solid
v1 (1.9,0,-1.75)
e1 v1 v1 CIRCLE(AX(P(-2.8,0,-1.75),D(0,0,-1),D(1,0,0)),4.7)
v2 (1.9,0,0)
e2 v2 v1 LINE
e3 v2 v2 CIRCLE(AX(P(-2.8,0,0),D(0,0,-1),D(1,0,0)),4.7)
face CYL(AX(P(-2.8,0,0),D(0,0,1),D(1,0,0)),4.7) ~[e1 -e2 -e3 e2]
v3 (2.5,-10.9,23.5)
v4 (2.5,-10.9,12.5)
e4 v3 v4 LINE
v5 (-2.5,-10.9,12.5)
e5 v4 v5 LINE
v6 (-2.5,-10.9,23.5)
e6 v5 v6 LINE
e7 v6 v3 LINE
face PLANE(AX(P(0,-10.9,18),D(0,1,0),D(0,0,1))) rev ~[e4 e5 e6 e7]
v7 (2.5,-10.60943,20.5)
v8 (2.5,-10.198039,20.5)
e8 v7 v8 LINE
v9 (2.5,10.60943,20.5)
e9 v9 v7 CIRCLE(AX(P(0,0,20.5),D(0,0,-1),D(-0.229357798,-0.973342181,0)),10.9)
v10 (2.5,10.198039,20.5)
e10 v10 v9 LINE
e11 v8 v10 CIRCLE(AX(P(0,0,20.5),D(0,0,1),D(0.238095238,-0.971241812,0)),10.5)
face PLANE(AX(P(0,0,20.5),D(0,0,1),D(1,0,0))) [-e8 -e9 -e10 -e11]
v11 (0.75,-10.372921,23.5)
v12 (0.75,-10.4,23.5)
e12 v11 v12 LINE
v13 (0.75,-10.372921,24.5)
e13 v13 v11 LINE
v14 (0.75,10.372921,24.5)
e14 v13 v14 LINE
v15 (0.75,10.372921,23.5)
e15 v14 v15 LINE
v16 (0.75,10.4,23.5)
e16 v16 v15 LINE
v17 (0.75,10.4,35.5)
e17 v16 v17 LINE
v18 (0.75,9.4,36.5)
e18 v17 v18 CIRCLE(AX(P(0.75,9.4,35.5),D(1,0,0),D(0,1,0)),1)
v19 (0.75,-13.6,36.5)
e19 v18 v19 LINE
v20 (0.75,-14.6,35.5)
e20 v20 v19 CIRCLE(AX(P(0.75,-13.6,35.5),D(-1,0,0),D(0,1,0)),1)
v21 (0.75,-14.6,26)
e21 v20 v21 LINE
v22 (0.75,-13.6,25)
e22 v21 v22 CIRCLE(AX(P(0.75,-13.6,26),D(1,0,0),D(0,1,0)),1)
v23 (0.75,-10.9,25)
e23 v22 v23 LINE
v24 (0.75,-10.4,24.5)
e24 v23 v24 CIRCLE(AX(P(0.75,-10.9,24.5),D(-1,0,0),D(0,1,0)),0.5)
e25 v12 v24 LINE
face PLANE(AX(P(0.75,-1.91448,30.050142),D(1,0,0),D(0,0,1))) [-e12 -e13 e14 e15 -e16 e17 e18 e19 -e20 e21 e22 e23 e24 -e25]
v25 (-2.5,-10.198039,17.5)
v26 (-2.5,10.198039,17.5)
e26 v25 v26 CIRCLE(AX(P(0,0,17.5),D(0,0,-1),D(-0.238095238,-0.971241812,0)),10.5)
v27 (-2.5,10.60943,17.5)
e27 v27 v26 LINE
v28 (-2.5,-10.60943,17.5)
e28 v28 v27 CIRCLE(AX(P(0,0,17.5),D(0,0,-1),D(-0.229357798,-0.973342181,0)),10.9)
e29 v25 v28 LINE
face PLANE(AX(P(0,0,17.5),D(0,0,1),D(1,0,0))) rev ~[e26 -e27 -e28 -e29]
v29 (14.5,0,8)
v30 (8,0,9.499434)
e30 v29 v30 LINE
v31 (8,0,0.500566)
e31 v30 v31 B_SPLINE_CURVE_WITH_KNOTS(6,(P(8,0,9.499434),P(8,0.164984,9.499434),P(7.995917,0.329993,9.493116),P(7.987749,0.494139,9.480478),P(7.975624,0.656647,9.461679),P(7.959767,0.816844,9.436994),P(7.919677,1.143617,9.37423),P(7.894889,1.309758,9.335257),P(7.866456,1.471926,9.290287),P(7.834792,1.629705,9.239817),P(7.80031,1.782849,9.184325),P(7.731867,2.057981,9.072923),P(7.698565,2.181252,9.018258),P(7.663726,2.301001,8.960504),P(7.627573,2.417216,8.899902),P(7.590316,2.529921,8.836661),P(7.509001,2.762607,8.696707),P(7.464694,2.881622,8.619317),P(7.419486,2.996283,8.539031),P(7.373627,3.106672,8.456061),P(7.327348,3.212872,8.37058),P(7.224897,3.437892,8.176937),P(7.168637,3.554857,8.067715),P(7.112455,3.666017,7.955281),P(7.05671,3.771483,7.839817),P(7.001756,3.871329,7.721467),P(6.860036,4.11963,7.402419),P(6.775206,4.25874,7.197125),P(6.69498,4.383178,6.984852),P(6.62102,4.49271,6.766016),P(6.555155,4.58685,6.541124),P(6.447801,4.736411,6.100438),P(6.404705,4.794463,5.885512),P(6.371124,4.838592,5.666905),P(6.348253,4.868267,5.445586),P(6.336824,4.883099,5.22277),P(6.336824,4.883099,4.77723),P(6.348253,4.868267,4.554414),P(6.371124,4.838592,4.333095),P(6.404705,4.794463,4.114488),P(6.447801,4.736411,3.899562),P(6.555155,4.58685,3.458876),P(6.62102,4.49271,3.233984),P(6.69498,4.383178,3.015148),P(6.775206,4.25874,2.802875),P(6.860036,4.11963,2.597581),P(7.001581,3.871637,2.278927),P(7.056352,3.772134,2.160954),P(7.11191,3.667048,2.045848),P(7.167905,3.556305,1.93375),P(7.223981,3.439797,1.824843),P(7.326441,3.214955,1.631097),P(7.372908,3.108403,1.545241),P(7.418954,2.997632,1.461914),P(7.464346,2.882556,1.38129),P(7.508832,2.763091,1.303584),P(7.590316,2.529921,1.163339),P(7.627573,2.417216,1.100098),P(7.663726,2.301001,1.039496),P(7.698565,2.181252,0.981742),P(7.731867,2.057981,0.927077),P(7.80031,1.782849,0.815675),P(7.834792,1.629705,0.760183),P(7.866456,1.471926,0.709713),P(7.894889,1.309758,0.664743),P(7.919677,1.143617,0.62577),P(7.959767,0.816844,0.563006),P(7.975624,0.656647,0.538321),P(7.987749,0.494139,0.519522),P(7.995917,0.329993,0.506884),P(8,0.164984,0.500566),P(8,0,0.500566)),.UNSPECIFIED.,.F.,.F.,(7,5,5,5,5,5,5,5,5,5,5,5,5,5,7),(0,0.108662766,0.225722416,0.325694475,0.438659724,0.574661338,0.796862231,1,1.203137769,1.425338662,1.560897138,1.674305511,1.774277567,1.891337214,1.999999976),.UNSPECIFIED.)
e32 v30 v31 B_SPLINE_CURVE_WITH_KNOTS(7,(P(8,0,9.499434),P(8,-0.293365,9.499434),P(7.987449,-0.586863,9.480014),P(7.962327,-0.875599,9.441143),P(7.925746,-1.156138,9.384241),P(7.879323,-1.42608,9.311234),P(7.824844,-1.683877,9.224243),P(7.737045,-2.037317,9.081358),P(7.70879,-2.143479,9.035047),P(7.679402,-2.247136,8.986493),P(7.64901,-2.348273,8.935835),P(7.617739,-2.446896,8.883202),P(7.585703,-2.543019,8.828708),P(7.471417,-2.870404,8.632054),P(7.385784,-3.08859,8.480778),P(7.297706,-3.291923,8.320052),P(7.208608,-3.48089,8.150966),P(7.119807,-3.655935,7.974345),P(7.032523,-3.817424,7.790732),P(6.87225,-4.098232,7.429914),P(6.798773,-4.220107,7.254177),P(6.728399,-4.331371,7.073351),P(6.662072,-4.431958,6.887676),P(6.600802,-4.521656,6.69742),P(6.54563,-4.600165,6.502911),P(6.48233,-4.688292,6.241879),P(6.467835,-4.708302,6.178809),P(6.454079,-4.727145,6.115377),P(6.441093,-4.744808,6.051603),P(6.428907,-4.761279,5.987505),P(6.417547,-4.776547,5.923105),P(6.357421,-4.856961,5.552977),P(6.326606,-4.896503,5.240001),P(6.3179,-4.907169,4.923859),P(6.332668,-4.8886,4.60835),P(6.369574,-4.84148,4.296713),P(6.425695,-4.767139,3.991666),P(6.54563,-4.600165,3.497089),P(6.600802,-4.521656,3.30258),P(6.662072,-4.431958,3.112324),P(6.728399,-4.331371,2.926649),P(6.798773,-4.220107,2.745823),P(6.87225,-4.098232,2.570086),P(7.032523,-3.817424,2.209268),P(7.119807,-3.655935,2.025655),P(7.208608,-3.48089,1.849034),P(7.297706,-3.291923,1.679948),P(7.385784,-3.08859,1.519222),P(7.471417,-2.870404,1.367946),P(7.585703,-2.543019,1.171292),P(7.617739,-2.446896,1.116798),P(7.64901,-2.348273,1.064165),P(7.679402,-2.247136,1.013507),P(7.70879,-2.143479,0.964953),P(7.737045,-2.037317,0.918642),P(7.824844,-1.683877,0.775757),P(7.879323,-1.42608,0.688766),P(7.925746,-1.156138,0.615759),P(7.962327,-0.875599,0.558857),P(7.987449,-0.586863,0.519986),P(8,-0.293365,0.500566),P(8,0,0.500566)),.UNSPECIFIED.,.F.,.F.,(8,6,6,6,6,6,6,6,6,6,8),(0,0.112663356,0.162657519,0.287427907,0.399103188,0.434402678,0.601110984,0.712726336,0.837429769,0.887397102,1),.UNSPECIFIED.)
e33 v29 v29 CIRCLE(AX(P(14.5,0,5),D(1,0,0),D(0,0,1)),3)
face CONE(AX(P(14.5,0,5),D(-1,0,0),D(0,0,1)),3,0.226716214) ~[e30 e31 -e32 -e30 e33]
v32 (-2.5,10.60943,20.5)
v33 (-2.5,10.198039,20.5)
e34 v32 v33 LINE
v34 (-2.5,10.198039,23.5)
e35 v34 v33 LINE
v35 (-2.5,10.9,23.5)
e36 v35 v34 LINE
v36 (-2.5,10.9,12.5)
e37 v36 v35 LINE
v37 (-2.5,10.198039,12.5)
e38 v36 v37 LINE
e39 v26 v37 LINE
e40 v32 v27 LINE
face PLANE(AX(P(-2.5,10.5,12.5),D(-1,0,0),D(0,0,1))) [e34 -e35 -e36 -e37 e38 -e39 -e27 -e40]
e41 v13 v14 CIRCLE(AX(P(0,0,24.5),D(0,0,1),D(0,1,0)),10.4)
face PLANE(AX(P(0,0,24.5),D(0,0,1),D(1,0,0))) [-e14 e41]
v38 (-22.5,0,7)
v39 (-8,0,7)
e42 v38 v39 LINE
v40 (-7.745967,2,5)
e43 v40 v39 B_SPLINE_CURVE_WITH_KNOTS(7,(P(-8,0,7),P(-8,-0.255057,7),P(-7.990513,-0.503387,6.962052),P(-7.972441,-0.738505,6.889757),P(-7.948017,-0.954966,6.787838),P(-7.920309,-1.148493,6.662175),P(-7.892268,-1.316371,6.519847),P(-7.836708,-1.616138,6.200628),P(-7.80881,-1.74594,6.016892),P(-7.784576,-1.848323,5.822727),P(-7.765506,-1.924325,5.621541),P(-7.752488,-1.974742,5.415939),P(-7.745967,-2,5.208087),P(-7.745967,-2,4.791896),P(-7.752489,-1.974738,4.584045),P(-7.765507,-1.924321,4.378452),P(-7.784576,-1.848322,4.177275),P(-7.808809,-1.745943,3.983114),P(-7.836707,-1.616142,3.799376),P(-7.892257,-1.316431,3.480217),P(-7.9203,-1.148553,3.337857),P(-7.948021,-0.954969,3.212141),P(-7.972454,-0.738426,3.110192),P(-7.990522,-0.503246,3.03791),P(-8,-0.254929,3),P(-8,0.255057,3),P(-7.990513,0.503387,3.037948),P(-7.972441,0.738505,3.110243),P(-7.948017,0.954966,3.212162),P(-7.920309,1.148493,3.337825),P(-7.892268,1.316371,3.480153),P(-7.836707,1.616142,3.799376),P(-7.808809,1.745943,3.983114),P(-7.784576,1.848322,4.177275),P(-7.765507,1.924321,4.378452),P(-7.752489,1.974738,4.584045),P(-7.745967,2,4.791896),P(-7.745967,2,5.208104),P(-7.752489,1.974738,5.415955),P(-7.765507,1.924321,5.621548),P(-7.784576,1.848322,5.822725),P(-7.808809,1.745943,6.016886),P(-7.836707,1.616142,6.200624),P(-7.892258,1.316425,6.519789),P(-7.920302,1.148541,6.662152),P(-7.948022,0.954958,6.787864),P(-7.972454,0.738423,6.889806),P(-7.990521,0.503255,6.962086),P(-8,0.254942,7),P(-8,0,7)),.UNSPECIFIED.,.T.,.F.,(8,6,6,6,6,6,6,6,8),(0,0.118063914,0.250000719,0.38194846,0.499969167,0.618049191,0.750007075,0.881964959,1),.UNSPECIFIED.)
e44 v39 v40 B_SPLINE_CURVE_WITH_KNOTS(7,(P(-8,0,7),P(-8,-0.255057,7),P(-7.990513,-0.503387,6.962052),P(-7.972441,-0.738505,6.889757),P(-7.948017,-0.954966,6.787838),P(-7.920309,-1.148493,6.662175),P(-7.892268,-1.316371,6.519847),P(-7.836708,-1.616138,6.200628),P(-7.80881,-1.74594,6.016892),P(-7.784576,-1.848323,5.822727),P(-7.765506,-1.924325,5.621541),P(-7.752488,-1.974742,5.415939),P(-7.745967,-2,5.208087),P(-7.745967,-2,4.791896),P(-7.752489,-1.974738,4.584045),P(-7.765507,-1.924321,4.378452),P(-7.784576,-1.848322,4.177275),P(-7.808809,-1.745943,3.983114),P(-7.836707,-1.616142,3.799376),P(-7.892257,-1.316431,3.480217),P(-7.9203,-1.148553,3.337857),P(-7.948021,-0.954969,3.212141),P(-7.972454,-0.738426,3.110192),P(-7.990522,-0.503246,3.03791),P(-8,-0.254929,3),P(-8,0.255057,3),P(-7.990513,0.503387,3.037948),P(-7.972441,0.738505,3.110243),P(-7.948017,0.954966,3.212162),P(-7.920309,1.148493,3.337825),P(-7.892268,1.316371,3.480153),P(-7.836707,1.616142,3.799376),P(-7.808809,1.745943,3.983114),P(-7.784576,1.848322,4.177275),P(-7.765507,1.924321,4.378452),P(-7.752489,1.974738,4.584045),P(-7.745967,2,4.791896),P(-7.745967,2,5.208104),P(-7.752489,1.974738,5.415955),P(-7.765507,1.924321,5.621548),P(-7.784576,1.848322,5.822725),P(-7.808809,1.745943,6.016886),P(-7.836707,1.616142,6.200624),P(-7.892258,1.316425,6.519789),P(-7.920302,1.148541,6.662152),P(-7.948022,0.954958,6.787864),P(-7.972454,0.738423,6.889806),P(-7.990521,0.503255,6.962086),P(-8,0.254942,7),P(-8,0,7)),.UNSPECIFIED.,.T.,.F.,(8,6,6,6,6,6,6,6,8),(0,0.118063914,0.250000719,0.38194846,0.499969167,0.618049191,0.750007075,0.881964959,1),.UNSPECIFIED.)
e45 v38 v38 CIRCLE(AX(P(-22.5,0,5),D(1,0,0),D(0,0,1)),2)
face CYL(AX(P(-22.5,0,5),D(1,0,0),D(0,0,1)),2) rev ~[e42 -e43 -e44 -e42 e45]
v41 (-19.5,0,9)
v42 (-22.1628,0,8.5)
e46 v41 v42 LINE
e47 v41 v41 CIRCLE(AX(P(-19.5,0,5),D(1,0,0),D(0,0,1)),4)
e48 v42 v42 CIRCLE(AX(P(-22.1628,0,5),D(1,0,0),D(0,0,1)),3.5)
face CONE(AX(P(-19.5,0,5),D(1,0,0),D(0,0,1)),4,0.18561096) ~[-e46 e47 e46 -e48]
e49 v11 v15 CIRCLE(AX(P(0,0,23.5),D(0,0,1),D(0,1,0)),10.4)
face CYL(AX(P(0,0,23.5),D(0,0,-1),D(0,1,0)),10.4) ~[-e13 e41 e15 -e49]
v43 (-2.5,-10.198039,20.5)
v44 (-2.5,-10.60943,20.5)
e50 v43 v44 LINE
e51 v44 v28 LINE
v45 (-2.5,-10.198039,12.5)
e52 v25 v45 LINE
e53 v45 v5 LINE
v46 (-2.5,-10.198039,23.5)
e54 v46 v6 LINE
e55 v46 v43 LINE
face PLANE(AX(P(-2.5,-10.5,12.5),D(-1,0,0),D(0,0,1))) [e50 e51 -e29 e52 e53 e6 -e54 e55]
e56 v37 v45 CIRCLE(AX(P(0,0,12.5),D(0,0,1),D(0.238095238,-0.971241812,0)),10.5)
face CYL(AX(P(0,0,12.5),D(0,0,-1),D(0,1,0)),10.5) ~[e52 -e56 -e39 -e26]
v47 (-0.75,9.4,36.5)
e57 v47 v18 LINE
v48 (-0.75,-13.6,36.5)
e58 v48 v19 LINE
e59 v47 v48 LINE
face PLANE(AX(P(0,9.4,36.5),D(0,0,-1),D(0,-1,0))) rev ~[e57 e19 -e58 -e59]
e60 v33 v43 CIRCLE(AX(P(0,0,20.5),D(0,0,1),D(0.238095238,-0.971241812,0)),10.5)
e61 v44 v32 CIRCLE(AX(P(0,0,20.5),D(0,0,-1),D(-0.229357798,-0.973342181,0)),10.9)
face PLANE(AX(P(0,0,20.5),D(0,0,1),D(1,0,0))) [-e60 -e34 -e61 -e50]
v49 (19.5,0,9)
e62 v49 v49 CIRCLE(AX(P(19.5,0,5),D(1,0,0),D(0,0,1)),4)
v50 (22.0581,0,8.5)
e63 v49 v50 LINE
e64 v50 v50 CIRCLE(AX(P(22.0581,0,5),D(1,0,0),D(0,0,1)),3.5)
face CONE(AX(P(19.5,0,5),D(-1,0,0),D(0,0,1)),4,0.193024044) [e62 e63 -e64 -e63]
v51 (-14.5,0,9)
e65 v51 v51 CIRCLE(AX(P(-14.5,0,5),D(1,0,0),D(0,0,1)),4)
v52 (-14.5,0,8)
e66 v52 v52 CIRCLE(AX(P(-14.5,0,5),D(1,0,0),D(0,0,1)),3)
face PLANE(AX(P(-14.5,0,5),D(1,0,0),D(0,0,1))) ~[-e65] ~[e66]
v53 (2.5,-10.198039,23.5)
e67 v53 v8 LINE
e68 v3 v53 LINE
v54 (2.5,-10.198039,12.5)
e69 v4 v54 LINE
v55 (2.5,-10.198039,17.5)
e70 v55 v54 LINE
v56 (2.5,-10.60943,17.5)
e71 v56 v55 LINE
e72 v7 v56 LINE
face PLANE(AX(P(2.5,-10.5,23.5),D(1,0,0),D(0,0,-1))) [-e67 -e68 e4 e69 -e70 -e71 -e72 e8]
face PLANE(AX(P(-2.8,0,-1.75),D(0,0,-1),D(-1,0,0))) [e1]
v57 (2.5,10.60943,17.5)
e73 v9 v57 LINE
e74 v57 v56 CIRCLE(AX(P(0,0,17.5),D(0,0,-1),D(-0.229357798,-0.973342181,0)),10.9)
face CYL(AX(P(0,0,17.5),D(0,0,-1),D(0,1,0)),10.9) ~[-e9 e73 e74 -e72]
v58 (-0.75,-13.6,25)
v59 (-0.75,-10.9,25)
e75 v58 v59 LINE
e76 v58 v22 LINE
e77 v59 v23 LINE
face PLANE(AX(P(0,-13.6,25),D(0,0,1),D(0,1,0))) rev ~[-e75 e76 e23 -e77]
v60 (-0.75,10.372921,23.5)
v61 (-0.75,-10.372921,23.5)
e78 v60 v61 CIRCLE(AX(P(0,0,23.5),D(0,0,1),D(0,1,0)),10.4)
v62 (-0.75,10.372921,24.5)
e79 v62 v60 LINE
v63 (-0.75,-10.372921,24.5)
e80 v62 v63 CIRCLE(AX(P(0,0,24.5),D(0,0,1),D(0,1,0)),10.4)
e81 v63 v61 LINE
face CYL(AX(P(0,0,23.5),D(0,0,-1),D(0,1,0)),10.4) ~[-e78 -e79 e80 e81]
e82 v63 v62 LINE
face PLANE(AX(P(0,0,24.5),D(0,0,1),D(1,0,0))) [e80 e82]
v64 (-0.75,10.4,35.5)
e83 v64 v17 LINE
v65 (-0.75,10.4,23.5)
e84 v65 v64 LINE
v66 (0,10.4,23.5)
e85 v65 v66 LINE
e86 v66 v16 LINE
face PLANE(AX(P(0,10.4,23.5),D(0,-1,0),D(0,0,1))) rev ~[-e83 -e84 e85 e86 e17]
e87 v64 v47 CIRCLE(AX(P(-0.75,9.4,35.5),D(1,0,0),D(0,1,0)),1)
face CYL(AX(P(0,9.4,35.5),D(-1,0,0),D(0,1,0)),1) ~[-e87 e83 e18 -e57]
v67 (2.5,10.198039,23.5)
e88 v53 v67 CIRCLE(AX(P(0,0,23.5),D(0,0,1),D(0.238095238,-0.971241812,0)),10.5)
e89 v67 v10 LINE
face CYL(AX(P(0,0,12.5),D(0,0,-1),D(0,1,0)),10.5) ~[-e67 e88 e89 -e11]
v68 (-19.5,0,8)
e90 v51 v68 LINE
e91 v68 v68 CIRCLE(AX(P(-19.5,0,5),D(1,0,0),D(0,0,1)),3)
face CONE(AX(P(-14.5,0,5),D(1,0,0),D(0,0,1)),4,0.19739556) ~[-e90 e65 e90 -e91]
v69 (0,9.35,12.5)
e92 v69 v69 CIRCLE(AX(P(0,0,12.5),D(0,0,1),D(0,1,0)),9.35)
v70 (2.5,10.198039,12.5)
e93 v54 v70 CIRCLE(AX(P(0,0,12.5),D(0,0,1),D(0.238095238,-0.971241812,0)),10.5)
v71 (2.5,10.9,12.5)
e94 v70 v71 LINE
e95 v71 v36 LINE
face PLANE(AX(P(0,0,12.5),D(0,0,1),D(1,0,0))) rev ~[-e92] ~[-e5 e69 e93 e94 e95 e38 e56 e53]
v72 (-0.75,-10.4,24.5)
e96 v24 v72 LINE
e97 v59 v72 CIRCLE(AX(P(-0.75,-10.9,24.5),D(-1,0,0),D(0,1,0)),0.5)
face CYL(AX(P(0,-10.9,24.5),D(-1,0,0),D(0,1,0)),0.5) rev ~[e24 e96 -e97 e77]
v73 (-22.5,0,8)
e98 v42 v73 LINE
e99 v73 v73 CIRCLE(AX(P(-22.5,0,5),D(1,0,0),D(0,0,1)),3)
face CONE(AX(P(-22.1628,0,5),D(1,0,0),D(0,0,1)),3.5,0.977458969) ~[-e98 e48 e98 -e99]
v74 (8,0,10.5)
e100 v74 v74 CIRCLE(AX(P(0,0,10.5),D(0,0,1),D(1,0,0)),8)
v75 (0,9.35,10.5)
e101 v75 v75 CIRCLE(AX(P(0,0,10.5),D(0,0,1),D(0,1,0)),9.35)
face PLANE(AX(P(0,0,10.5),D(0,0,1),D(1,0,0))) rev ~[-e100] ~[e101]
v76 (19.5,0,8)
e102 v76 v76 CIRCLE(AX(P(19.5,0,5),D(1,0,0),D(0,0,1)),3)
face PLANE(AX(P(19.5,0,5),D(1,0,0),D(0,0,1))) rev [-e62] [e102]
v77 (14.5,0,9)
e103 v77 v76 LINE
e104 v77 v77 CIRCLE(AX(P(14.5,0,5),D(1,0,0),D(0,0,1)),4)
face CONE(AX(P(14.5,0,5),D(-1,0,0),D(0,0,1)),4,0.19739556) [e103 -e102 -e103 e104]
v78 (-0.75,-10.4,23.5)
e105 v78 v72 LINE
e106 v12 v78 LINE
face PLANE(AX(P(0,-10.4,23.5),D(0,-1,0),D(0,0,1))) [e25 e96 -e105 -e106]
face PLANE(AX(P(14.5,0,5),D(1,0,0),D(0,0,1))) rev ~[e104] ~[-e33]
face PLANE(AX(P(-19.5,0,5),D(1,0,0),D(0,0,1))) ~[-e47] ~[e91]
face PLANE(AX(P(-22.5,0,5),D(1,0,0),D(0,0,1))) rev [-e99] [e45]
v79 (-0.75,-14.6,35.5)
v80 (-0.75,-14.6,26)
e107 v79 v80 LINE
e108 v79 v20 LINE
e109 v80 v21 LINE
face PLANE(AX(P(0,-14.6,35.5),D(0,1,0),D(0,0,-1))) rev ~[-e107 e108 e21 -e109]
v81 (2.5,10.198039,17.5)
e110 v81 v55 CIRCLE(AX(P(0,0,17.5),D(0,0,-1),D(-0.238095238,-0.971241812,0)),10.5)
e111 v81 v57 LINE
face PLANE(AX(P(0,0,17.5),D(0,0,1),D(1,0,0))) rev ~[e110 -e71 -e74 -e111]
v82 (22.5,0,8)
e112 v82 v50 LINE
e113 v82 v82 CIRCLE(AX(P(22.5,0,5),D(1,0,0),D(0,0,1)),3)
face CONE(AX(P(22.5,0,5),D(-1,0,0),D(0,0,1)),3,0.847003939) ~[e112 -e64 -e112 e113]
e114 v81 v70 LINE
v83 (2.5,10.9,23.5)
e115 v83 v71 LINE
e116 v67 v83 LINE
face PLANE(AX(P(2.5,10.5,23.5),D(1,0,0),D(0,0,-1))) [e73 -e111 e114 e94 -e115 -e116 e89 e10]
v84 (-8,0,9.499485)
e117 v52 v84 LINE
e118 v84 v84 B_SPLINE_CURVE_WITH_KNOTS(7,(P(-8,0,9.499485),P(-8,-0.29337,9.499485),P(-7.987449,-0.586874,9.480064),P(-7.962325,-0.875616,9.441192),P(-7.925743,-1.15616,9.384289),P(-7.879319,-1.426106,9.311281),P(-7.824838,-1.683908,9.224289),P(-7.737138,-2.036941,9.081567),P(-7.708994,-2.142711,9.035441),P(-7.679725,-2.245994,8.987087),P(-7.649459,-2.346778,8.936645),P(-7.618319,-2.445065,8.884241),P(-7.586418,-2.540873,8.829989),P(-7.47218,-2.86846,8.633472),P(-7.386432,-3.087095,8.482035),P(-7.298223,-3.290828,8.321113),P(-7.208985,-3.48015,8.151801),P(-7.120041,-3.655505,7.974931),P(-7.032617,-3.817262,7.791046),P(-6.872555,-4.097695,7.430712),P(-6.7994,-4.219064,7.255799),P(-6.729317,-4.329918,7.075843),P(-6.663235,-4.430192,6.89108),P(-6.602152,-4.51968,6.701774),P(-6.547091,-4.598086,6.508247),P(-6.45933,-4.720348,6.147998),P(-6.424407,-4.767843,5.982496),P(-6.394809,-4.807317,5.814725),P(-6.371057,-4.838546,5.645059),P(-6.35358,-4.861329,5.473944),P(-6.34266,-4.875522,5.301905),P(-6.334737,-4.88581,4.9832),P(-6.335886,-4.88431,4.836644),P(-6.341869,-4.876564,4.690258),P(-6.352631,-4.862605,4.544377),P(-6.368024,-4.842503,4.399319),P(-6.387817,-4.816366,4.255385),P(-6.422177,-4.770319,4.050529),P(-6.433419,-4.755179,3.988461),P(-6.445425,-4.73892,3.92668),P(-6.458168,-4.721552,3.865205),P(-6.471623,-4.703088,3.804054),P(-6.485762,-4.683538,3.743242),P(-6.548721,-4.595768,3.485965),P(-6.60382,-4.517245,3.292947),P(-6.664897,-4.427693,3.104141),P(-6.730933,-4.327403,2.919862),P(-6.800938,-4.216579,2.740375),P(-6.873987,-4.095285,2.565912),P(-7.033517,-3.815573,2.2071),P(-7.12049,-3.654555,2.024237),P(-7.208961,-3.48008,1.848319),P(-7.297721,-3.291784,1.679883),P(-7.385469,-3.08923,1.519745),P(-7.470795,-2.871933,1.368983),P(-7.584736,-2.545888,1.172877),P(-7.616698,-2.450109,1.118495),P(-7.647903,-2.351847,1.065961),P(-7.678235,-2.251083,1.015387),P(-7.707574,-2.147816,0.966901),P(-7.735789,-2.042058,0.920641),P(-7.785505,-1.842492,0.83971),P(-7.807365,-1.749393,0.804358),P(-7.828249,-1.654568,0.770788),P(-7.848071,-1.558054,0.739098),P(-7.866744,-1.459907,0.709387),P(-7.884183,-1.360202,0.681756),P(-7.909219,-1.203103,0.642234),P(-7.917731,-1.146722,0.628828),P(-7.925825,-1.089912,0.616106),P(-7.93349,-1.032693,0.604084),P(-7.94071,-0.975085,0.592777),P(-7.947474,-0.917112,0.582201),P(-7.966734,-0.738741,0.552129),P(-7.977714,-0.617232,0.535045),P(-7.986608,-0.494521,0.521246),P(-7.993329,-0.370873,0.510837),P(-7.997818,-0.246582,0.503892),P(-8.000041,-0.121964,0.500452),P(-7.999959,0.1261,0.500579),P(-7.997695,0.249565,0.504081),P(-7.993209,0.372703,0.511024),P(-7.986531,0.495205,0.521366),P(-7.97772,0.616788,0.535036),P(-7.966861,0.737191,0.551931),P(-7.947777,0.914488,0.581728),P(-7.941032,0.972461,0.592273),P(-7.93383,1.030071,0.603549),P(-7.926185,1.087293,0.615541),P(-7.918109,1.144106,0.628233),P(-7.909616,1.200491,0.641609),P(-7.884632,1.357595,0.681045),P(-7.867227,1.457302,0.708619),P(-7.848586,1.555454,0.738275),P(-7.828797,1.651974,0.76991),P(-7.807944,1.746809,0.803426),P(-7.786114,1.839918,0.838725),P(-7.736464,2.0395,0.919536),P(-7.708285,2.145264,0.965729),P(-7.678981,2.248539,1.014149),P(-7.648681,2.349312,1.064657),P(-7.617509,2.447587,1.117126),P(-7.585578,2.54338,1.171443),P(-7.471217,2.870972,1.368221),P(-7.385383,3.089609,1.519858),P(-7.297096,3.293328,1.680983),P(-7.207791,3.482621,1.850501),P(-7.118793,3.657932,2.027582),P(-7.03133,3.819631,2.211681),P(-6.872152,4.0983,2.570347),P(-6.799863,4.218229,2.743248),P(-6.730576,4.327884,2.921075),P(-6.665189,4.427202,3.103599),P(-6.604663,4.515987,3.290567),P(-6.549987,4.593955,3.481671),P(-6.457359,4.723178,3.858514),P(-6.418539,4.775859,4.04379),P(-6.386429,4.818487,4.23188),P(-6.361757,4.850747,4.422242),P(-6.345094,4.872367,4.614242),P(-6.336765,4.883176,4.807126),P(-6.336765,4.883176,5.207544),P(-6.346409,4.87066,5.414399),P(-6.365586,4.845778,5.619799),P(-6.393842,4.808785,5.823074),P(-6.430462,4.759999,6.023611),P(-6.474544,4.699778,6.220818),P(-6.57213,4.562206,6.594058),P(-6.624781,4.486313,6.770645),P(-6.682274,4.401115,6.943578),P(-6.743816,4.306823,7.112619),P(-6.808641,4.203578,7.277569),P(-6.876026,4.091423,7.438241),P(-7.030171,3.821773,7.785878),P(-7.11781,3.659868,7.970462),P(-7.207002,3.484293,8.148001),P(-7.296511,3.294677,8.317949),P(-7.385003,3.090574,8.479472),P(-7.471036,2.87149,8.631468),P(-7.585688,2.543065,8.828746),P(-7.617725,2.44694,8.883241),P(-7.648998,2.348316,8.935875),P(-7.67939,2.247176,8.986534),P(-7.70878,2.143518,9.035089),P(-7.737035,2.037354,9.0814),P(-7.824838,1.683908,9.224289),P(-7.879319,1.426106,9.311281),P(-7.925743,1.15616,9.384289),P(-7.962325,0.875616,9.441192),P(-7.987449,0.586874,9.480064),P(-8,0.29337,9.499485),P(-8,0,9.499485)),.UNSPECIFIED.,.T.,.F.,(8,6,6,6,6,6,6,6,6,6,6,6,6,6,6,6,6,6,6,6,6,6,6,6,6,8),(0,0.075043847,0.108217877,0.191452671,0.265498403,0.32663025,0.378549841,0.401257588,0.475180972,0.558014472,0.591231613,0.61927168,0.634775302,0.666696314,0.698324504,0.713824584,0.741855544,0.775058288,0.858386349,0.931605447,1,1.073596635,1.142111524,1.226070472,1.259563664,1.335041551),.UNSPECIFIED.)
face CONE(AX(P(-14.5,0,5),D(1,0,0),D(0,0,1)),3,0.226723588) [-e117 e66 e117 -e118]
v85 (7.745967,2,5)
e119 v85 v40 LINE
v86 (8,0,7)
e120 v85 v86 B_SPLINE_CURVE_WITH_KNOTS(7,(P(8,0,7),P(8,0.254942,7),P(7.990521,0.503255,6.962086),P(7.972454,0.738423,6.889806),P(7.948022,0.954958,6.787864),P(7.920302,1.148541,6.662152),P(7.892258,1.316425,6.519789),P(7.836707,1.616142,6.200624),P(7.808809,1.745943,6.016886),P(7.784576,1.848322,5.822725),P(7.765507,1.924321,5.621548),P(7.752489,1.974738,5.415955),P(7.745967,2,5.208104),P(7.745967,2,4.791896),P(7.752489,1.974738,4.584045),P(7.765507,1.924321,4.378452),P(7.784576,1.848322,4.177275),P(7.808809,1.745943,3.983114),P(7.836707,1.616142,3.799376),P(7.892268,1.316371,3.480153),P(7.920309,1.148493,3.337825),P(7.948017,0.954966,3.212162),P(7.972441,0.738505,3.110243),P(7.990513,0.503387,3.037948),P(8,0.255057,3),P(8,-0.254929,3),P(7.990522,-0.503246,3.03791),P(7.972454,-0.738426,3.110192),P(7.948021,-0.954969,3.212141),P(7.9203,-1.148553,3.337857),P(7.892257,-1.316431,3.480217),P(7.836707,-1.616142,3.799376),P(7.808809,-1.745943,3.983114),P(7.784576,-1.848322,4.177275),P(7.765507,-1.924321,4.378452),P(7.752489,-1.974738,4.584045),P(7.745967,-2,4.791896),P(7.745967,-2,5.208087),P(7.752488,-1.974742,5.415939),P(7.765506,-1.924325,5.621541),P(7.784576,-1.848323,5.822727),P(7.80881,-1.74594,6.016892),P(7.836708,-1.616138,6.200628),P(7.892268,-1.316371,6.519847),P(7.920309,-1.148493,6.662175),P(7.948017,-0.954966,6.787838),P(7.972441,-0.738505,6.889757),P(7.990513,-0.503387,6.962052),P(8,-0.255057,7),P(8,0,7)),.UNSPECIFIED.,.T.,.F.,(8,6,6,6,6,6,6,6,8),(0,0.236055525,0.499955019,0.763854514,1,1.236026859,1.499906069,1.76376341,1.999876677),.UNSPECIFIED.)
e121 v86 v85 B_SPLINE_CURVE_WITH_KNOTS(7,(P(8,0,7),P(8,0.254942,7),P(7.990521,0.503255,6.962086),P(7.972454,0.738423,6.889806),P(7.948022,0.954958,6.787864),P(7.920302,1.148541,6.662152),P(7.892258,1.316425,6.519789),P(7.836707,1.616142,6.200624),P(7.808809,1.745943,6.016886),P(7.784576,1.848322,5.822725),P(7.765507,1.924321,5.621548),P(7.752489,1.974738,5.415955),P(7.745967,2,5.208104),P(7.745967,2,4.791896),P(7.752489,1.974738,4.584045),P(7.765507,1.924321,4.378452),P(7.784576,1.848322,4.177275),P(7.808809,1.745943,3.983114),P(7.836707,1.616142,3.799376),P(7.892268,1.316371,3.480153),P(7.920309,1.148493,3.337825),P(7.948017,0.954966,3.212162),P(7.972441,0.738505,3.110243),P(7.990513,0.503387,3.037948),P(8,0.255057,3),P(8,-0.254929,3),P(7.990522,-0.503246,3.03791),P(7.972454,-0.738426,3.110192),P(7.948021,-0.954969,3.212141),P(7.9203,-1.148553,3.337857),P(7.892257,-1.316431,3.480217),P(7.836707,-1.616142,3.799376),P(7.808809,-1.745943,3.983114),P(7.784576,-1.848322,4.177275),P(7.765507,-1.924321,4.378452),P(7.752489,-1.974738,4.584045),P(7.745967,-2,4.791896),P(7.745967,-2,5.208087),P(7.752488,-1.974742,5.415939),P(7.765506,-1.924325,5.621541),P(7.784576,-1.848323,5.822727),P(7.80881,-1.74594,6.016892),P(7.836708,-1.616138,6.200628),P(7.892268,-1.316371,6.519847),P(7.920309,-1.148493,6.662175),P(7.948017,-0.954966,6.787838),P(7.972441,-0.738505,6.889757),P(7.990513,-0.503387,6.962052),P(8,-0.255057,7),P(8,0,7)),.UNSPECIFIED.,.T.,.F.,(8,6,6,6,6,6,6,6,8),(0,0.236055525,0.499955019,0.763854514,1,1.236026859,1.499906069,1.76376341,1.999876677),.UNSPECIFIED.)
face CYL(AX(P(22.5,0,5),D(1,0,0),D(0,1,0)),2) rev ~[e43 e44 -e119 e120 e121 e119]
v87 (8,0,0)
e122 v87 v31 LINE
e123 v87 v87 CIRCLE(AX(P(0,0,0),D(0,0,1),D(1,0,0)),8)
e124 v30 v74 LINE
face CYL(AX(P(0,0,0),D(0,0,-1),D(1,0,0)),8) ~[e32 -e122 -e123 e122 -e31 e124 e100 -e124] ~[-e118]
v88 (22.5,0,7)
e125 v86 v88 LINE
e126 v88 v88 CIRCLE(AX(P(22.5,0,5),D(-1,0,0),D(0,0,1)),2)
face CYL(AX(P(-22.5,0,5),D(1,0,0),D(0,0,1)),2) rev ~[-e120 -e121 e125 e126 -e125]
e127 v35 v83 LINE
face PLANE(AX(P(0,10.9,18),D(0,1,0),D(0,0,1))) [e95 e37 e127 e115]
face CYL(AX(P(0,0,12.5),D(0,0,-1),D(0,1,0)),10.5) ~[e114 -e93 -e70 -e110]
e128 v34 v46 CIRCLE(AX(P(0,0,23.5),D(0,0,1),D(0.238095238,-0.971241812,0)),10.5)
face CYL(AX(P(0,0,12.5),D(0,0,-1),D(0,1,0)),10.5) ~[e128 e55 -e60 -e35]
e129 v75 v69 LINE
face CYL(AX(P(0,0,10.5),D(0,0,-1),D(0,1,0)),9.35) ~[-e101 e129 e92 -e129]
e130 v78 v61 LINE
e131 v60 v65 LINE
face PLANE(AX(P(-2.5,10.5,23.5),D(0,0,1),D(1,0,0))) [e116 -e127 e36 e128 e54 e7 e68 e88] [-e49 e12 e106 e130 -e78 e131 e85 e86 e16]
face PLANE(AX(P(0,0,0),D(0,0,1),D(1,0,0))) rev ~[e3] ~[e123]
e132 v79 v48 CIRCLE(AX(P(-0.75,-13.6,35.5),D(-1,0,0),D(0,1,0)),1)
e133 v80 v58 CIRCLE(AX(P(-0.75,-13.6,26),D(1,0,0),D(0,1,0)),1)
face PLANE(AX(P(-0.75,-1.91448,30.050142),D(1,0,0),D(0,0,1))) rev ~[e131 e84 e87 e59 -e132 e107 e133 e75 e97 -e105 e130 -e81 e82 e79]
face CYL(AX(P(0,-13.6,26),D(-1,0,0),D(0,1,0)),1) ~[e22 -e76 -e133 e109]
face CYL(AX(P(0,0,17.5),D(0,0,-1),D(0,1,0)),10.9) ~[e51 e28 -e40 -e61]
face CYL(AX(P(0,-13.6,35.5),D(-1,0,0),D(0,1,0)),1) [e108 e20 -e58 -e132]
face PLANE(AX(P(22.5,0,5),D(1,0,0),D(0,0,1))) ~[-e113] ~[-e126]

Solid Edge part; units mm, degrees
sketch "Sketch1" plane through (0, 0, 0) normal (0, 0, 1) x (1, 0, 0)
  circle A0 centre (0, 0) radius 8
extrude "Protrusion1" add sketch "Sketch1" along normal blind 10.5
sketch "Sketch2" plane through (0, 0, 10.5) normal (0, 0, 1) x (0, 1, 0)
  circle A0 centre (0, 0) radius 9.35
extrude "Extrusionsausprägung_2" add sketch "Sketch2" along normal blind 2
sketch "Sketch3" plane through (0, 0, 12.5) normal (0, 0, 1) x (0, 1, 0)
  circle A0 centre (0, 0) radius 10.5
extrude "Extrusionsausprägung_3" add sketch "Sketch3" along normal blind 11
sketch "Sketch4" plane through (0, 0, 17.5) normal (0, 0, 1) x (0, 1, 0)
  circle A0 centre (0, 0) radius 10.9
extrude "Extrusionsausprägung_4" add sketch "Sketch4" along normal blind 3
sketch "Sketch5" plane through (0, -10.5, 0) normal (0, -1, 0) x (1, 0, 0)
  line L0 (0, 23.5) -> (2.5, 23.5)
  line L1 (2.5, 23.5) -> (2.5, 12.5)
  line L2 (2.5, 12.5) -> (-2.5, 12.5)
  line L3 (-2.5, 12.5) -> (-2.5, 23.5)
  line L4 (-2.5, 23.5) -> (0, 23.5)
extrude "Extrusionsausprägung_5" add sketch "Sketch5" along normal mid plane 0.8
sketch "Sketch6" plane through (0, 10.5, 0) normal (0, -1, 0) x (1, 0, 0)
  line L0 (-2.5, 23.5) -> (2.5, 23.5)
  line L1 (2.5, 23.5) -> (2.5, 12.5)
  line L2 (2.5, 12.5) -> (-2.5, 12.5)
  line L3 (-2.5, 12.5) -> (-2.5, 23.5)
extrude "Extrusionsausprägung_6" add sketch "Sketch6" along normal mid plane 0.8
sketch "Sketch7" plane through (0, 0, 23.5) normal (0, 0, 1) x (0, 1, 0)
  circle A0 centre (0, 0) radius 10.4
extrude "Extrusionsausprägung_7" add sketch "Sketch7" along normal mid plane 2
sketch "Sketch8" plane through (0, 0, 0) normal (1, 0, 0) x (0, 1, 0)
  line L0 (0, 23.5) -> (10.4, 23.5)
  line L1 (10.4, 23.5) -> (10.4, 35.5)
  arc A0 (10.4, 35.5) -> (9.4, 36.5) centre (9.4, 35.5) ccw
  line L2 (9.4, 36.5) -> (-13.6, 36.5)
  arc A1 (-14.6, 35.5) -> (-13.6, 36.5) centre (-13.6, 35.5) cw
  line L3 (-14.6, 35.5) -> (-14.6, 26)
  arc A2 (-14.6, 26) -> (-13.6, 25) centre (-13.6, 26) ccw
  line L4 (-13.6, 25) -> (-10.9, 25)
  arc A3 (-10.9, 25) -> (-10.4, 24.5) centre (-10.9, 24.5) cw
  line L5 (-10.4, 23.5) -> (-10.4, 24.5)
  line L6 (0, 23.5) -> (-10.4, 23.5)
extrude "Extrusionsausprägung_10" add sketch "Sketch8" along normal mid plane 1.5
sketch "Sketch9" plane through (0, 0, 0) normal (0, -1, 0) x (1, 0, 0)
  line L0 (22.5, 7) -> (22.5, 8)
  line L1 (22.5, 8) -> (22.0581, 8.5)
  line L2 (19.5, 9) -> (22.0581, 8.5)
  line L3 (19.5, 8) -> (19.5, 9)
  line L4 (14.5, 9) -> (19.5, 8)
  line L5 (14.5, 9) -> (14.5, 8)
  line L6 (14.5, 8) -> (5.2197, 10.1408)
  line L7 (5.2197, 10.1408) -> (-5.572, 10.0596)
  line L8 (-14.5, 8) -> (-5.572, 10.0596)
  line L9 (-14.5, 8) -> (-14.5, 9)
  line L10 (-14.5, 9) -> (-19.5, 8)
  line L11 (-19.5, 8) -> (-19.5, 9)
  line L12 (-19.5, 9) -> (-22.1628, 8.5)
  line L13 (-22.1628, 8.5) -> (-22.5, 8)
  line L14 (-22.5, 7) -> (-22.5, 8)
  line L15 (-22.5, 7) -> (22.5, 7)
revolve "RevolvedProtrusion1" add sketch "Sketch9" angle 360 about axis through (0, 0, 5) along (1, 0, 0)
sketch "Sketch10" plane through (22.5, 0, 5) normal (1, 0, 0) x (0, 1, 0)
  circle A0 centre (0, 0) radius 2
extrude "Cutout1" cut sketch "Sketch10" against normal blind 49.253
sketch "Sketch11" plane through (0, 0, 0) normal (0, 0, -1) x (1, 0, 0)
  line L0 (-1.7342, 3.7694) -> (-7.0229, 0.602)
  line L1 (-7.0229, 0.602) -> (-5.7187, -2.8522)
  line L2 (-5.7187, -2.8522) -> (2.9095, -3.9271)
  line L3 (2.9095, -3.9271) -> (6.9799, -0.516)
  line L4 (6.9799, -0.516) -> (4.9447, 3.4971)
  line L5 (4.9447, 3.4971) -> (-1.7342, 3.7694)
extrude "Extrusionsausschnitt_2" cut sketch "Sketch11" along normal blind 1.4314
sketch "Sketch12" plane through (0, 0, 0) normal (0, 0, -1) x (1, 0, 0)
  circle A0 centre (-2.8, 0) radius 4.7
extrude "Protrusion2" add sketch "Sketch12" along normal mid plane 3.5
